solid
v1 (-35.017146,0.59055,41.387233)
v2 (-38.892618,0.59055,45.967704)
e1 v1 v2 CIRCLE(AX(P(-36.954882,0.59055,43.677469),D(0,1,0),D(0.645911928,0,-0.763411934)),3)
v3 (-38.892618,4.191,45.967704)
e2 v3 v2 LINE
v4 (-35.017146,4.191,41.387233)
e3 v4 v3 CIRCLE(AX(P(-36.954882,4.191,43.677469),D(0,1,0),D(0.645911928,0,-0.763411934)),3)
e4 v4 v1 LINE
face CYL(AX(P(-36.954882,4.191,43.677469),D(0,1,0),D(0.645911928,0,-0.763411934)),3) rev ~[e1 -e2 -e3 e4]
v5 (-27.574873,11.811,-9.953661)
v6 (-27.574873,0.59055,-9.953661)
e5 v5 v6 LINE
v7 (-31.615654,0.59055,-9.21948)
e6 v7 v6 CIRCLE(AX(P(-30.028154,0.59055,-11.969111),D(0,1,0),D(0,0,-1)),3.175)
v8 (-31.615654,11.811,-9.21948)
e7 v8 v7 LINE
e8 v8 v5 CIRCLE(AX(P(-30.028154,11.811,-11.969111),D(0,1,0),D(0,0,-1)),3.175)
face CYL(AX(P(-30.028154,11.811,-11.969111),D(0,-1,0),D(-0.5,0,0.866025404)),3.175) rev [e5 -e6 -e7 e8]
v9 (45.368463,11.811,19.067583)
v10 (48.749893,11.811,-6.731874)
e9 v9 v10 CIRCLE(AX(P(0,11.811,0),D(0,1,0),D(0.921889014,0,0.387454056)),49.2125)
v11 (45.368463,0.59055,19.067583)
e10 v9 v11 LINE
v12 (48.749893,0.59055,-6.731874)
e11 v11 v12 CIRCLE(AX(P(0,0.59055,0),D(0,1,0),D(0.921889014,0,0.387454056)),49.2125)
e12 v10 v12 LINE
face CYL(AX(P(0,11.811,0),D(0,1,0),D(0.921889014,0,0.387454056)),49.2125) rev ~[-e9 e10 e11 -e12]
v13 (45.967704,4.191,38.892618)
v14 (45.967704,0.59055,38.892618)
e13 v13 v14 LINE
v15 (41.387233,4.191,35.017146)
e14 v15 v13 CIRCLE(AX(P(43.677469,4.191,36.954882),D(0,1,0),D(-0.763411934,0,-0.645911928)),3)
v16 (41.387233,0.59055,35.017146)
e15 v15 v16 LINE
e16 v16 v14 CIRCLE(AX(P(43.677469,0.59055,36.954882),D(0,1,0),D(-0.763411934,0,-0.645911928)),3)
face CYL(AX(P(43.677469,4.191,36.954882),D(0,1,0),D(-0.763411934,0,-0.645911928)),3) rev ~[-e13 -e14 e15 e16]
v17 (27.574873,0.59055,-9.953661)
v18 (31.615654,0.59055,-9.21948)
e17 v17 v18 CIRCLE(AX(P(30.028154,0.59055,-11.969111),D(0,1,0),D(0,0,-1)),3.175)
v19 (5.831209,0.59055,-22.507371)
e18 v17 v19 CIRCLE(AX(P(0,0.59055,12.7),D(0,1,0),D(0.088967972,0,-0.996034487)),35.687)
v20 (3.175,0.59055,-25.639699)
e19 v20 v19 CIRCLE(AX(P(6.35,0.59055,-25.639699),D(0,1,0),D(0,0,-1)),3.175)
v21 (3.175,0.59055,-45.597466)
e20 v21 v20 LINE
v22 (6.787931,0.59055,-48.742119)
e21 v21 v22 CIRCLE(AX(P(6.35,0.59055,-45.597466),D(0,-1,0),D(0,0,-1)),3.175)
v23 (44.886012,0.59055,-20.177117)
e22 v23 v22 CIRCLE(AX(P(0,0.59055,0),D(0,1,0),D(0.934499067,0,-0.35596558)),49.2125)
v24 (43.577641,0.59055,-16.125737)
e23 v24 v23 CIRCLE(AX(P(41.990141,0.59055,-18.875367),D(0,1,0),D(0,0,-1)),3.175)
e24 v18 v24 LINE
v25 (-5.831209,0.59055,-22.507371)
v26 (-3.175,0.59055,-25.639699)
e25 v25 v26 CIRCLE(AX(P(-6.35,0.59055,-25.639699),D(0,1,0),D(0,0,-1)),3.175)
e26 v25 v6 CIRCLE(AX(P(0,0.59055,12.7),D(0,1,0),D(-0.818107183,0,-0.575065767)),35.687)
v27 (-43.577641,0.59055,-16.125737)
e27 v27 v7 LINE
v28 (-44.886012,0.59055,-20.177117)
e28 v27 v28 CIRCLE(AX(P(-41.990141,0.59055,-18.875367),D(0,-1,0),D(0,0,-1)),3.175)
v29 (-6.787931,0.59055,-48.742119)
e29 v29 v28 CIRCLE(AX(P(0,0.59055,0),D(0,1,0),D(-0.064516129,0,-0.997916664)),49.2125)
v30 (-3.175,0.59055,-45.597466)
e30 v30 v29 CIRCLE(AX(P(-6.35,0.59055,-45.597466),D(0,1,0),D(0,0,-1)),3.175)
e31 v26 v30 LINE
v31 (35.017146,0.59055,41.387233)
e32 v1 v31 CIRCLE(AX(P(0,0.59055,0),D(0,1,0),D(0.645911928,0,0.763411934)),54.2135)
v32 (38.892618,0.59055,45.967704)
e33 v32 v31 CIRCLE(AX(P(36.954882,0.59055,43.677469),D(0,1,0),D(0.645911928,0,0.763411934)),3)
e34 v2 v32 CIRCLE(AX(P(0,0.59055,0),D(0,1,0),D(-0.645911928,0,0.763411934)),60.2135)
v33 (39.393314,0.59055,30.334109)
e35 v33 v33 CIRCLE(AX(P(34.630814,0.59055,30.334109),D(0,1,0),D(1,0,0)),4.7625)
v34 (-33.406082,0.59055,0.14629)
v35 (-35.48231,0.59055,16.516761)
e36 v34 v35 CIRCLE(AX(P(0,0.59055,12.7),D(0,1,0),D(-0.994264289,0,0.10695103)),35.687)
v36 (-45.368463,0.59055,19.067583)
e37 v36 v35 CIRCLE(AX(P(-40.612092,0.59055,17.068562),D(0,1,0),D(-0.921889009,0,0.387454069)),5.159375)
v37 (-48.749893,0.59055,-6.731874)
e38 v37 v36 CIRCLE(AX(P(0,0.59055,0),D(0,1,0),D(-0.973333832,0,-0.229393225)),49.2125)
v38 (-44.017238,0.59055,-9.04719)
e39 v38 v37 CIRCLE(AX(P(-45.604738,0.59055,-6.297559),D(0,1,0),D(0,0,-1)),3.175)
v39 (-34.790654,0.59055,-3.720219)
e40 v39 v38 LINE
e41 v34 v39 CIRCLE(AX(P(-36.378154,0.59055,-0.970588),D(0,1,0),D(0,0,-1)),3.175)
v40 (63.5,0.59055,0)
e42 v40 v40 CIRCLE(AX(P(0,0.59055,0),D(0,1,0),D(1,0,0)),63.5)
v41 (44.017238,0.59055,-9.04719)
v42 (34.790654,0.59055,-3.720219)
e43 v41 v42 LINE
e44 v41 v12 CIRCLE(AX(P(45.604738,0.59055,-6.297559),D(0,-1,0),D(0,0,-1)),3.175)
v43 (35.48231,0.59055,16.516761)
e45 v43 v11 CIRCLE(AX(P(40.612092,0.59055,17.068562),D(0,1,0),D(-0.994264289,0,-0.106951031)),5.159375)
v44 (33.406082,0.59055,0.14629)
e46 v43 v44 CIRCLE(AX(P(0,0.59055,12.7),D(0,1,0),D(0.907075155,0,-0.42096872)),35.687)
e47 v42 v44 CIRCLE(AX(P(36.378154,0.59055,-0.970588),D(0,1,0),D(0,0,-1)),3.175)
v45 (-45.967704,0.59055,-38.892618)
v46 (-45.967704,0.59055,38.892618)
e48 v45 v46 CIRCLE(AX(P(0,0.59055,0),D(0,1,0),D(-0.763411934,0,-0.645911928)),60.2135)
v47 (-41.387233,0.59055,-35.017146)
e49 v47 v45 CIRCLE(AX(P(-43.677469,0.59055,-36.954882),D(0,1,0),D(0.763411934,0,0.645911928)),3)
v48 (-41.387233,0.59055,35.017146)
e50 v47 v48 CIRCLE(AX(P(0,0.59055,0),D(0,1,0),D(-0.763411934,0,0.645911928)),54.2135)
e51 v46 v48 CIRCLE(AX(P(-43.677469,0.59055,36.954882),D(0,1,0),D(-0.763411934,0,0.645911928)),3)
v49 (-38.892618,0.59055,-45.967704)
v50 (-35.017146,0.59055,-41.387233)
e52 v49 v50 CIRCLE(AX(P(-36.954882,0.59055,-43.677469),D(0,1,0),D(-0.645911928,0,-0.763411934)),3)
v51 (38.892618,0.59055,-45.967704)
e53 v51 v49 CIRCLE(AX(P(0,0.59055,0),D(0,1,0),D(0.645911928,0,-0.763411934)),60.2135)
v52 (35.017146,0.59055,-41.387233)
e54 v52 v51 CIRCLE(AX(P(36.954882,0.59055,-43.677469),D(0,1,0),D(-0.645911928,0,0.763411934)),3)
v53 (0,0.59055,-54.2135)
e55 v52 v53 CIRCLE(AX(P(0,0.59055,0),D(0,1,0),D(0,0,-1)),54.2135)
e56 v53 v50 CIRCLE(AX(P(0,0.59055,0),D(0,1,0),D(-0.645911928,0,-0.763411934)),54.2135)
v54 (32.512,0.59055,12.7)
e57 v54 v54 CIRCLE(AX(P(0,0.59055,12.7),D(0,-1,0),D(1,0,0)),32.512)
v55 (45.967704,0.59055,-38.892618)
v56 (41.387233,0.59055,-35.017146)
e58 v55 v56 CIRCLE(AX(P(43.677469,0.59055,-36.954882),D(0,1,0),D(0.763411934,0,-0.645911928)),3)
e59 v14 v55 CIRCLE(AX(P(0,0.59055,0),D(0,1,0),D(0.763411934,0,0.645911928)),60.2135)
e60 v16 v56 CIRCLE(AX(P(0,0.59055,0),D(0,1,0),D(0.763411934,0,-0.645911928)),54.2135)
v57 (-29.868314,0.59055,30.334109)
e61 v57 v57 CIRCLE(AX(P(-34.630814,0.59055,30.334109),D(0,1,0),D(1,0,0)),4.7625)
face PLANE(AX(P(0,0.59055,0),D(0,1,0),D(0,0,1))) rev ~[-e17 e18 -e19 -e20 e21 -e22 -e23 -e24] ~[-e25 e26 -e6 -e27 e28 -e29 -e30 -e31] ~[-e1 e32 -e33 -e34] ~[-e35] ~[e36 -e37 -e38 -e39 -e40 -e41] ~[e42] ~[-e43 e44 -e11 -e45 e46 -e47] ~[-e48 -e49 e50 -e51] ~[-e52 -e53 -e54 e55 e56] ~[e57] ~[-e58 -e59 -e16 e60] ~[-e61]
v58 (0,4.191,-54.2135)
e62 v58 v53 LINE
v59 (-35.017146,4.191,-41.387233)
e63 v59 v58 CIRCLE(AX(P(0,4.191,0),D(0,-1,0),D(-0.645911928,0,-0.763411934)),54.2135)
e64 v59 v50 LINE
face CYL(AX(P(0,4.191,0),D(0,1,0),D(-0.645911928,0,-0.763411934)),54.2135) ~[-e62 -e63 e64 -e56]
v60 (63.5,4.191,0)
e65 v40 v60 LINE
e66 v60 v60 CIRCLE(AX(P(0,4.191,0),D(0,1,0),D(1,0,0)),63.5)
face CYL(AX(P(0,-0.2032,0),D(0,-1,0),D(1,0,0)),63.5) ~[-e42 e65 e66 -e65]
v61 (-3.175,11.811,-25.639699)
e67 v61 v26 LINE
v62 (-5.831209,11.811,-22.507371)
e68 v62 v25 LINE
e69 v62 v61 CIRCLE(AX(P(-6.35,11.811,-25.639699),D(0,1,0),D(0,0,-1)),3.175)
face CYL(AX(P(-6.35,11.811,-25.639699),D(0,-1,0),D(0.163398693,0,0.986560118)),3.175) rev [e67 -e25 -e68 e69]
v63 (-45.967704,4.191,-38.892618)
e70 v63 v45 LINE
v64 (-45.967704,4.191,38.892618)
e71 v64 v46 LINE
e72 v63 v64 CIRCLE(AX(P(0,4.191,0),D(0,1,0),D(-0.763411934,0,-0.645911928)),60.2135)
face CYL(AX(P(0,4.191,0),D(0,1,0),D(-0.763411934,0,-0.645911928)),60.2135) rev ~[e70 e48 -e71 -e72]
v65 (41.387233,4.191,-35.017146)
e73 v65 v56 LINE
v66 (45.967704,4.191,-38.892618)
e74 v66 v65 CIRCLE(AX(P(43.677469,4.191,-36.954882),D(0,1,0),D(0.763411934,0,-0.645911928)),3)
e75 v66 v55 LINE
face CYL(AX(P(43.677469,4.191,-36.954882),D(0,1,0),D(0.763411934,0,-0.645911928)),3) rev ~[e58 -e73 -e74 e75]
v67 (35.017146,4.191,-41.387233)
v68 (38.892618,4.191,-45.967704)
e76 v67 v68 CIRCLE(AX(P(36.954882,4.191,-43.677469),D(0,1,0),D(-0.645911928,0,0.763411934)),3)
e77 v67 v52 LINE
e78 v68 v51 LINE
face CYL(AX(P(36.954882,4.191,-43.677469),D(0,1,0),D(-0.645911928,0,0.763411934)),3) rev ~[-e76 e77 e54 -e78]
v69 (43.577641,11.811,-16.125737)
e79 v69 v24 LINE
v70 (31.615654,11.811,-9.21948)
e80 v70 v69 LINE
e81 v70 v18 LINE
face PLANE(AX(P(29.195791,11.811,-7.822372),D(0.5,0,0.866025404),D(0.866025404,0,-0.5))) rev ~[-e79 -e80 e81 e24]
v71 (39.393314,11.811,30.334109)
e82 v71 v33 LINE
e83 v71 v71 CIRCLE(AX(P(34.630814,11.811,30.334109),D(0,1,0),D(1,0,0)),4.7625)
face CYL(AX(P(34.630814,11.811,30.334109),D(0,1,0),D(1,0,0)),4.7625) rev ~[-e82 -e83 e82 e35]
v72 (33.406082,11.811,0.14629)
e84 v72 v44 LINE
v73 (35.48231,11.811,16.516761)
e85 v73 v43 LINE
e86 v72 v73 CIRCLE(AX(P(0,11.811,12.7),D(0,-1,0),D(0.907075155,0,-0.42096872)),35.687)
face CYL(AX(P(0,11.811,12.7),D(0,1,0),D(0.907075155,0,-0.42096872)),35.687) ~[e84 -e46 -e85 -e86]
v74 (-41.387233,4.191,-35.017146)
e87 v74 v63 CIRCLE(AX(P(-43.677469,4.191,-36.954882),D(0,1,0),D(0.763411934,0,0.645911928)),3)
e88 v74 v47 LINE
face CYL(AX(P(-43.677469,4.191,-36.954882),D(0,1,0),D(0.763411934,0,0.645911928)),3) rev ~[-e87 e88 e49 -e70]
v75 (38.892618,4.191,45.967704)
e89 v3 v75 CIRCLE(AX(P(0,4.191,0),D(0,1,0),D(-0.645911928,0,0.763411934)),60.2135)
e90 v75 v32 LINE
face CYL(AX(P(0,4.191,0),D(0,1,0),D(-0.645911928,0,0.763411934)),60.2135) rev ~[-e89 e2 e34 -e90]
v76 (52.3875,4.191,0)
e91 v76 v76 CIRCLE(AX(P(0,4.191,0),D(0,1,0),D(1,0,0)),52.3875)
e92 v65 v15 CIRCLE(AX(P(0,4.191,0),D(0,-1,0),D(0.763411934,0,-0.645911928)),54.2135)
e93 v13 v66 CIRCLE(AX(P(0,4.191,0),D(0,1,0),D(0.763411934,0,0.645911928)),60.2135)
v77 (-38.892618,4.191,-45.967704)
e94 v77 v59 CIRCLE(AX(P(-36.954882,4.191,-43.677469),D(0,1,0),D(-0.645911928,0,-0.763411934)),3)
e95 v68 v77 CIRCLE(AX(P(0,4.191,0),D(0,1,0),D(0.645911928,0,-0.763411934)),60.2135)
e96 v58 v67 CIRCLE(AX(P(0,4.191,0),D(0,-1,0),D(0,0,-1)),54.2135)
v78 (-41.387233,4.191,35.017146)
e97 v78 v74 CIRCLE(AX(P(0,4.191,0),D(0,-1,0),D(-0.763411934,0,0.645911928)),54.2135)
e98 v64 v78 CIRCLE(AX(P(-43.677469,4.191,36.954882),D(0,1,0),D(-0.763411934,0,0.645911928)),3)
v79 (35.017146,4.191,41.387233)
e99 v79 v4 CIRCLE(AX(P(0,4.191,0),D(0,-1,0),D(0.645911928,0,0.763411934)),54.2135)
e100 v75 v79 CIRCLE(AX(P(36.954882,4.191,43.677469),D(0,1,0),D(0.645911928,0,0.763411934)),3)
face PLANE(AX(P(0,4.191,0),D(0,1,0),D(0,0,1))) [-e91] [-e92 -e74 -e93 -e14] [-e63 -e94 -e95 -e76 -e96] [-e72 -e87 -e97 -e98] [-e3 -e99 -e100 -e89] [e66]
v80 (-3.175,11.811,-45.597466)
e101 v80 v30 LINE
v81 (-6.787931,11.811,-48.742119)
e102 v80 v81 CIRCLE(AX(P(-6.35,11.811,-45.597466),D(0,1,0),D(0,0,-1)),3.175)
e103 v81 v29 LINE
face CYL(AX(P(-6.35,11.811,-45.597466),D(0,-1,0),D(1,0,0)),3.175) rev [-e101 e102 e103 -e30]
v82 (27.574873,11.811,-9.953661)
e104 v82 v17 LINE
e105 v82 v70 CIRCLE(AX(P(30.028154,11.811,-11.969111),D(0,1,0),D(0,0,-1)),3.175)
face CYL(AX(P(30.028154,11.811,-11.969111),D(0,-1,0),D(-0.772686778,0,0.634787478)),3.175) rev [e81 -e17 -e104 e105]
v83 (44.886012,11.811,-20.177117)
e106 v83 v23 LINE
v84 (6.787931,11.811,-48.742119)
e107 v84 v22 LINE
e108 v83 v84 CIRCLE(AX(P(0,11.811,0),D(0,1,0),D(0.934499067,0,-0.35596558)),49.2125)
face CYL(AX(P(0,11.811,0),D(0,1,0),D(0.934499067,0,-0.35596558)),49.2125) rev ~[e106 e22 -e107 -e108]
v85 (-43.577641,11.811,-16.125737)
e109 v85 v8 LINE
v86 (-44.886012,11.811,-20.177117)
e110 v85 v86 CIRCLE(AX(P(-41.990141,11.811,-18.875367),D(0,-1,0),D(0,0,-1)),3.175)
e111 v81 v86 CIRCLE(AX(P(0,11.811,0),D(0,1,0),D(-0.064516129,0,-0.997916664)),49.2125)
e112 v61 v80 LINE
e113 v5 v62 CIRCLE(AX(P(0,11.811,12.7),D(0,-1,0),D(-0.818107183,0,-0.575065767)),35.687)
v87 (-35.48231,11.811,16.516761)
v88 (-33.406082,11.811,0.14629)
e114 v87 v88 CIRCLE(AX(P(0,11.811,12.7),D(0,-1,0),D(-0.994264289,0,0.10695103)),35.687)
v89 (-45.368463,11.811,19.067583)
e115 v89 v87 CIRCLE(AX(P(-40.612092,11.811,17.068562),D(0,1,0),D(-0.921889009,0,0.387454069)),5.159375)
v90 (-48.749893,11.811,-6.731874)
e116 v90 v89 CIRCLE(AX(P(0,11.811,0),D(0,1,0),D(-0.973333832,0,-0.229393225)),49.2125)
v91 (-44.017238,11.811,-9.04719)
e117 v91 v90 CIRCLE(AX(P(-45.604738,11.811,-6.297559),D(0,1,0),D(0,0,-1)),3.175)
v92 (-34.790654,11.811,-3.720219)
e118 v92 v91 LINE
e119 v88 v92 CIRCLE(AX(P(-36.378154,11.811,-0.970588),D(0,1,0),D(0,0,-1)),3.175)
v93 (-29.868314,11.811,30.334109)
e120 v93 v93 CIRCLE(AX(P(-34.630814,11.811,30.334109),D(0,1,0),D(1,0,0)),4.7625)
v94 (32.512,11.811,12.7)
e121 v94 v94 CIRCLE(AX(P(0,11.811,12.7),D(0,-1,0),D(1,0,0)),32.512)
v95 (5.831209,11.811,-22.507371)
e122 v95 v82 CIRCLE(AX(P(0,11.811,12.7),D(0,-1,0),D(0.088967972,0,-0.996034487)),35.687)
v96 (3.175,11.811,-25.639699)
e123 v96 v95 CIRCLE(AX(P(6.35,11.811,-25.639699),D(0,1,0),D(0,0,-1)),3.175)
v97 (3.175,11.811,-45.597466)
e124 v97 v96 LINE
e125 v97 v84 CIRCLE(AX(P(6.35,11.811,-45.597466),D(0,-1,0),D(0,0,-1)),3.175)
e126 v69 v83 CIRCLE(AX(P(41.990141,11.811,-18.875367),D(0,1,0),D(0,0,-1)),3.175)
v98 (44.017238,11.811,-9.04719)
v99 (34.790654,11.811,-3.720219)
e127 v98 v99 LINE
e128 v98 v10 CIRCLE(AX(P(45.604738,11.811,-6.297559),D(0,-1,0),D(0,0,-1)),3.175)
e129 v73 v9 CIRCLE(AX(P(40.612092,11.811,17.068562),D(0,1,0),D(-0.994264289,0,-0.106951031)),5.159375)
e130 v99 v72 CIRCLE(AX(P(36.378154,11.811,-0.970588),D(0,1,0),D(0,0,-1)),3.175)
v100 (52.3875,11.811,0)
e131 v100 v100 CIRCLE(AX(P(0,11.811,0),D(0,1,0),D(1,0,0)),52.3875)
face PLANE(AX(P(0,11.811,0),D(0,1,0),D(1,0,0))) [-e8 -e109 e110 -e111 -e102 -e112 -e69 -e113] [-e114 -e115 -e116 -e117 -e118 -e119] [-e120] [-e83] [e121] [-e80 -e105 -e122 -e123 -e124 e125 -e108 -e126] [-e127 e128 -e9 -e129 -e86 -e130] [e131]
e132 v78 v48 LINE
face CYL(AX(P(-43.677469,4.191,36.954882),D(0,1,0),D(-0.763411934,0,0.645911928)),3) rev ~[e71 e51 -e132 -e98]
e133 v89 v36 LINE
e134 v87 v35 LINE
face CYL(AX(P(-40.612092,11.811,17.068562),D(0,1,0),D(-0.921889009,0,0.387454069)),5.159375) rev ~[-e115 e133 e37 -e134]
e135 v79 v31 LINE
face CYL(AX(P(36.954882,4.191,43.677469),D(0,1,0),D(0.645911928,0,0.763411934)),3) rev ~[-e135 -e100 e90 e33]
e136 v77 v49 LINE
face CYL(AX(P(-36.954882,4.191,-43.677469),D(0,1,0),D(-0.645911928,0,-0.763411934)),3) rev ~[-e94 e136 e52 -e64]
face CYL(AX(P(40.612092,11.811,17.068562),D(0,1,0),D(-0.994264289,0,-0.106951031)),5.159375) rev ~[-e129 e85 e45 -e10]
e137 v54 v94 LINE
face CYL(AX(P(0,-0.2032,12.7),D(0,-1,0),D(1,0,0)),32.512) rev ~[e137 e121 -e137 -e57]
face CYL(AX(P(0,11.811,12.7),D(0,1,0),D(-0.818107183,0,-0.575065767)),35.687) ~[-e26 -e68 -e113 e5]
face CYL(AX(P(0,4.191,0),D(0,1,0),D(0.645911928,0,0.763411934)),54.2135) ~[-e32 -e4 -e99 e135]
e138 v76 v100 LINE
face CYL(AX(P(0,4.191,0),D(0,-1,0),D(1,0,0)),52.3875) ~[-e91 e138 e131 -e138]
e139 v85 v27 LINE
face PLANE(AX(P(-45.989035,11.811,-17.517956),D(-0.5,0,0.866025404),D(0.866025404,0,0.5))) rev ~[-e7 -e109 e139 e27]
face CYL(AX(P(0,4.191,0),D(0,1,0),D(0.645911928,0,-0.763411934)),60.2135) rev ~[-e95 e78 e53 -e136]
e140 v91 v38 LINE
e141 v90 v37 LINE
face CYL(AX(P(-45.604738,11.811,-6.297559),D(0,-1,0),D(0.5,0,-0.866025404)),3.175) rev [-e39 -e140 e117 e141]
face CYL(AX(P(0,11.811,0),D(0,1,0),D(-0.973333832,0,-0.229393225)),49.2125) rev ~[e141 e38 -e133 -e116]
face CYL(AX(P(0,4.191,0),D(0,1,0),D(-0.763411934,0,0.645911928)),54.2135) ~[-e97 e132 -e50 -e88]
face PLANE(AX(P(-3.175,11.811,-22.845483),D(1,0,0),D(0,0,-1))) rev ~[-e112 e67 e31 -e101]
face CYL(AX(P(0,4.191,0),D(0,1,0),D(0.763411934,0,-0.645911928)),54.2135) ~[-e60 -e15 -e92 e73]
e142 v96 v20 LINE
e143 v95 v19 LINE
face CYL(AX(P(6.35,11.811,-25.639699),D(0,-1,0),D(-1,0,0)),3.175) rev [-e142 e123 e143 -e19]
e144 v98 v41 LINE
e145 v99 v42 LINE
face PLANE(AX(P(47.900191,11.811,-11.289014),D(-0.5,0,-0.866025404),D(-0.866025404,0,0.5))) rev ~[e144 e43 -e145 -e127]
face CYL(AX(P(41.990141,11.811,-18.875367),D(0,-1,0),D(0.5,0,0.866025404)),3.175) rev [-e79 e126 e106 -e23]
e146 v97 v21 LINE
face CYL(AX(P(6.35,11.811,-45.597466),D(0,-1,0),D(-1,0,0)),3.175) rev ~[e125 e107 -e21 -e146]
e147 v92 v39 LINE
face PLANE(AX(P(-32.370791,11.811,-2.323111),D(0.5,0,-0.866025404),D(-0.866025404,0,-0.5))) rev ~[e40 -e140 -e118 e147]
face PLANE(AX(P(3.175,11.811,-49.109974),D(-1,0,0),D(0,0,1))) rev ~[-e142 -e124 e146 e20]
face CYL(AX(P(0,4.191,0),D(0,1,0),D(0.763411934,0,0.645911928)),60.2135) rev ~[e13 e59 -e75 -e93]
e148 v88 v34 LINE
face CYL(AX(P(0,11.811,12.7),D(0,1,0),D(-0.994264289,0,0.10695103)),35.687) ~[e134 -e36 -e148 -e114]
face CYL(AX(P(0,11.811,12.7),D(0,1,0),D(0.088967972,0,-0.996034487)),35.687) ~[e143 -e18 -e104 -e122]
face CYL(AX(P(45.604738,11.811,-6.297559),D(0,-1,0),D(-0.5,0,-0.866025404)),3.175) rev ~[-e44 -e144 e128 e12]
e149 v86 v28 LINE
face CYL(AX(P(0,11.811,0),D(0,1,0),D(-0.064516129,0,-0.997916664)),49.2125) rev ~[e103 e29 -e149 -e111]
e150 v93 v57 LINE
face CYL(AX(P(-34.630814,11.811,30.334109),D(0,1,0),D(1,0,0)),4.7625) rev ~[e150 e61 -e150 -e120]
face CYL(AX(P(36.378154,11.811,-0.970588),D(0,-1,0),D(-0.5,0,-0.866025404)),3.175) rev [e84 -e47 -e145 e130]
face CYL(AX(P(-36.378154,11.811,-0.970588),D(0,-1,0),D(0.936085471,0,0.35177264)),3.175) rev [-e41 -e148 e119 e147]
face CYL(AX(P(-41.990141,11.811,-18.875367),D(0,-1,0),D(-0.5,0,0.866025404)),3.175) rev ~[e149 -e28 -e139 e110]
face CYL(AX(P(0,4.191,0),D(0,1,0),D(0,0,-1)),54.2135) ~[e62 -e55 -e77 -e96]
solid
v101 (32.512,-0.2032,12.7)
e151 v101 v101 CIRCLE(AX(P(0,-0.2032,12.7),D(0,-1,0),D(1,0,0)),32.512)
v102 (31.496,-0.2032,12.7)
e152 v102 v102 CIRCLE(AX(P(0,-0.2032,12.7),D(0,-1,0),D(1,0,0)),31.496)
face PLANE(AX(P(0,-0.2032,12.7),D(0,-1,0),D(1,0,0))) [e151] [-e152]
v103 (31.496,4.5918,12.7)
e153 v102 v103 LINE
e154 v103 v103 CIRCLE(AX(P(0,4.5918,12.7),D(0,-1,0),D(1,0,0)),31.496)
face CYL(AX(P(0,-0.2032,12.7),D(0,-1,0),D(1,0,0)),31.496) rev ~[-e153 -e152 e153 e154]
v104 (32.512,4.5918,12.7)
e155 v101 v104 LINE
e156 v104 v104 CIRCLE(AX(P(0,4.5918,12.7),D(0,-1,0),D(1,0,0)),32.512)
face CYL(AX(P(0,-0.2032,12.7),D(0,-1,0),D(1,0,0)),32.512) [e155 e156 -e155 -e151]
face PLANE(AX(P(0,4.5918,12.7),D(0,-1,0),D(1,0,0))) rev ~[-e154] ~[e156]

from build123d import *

# Parameters (mm, degrees)
SLOTTED_BODY_EXTRUDE_DEPTH      = 4.191
SLOTTED_BODY_EXTRUDE_DEPTH_BACK = 0.2032
SKETCH1_R                       = 61.9125
SKETCH1_R_2                     = 30.988
SKETCH5_R                       = 52.3875
BOSS_EXTRUDE3_DEPTH             = 7.62
SKETCH6_R                       = 32.512
CUT_EXTRUDE5_DEPTH              = 89.377917571
SKETCH8_R                       = 32.512
SKETCH8_R_2                     = 31.496
BOSS_EXTRUDE4_DEPTH             = 4.795000062
CUT_EXTRUDE7_DEPTH              = 36.068
FILLET1_R                       = 3.175
CUT_EXTRUDE8_DEPTH              = 36.068
MOVE_FACE1_BY                   = 1.5875
MOVE_FACE2_BY                   = 0.79375
SKETCH13_5_R                    = 3.175
CUT_EXTRUDE9_DEPTH              = 91.602654496
MOVE_FACE3_BY                   = 1.5875
MOVE_FACE3_2_BY                 = 1.5875


with BuildPart() as part:
    # Sketch1 → Slotted-Body Extrude (new, two sides: drawn at the far end of the back side and taken through both)
    with BuildSketch(Plane(origin=(0, 0, 0), x_dir=(1, 0, 0), z_dir=(0, 1, 0)).offset(-SLOTTED_BODY_EXTRUDE_DEPTH_BACK)):
        Circle(SKETCH1_R)
        with Locations((0, -12.7)):
            Circle(SKETCH1_R_2, mode=Mode.SUBTRACT)
    extrude(amount=SLOTTED_BODY_EXTRUDE_DEPTH + SLOTTED_BODY_EXTRUDE_DEPTH_BACK)

    # Sketch5 → Boss-Extrude3 (add)
    with BuildSketch(Plane(origin=(0, 4.191, 0), x_dir=(1, 0, 0), z_dir=(0, 1, 0))):
        Circle(SKETCH5_R)
    extrude(amount=BOSS_EXTRUDE3_DEPTH)

    # Sketch6 → Cut-Extrude5 (cut, through all)
    with BuildSketch(Plane.XZ.offset(0.2032)):
        with Locations((0, 12.7)):
            Circle(SKETCH6_R)
    extrude(amount=-CUT_EXTRUDE5_DEPTH, mode=Mode.SUBTRACT)

    # Sketch13 → Cut-Extrude7 (cut)
    with BuildSketch(Plane(origin=(0, 11.811, 0), x_dir=(1, 0, 0), z_dir=(0, 1, 0))):
        with BuildLine():
            Line((-45.989035316, 17.517956129), (-29.195791052, 7.822372033))
            ThreePointArc((-29.195791052, 7.822372033), (-17.8435, 18.205848585), (-3.175, 22.845482751))
            Line((-3.175, 22.845482751), (-3.175, 49.109973847))
            ThreePointArc((-3.175, 49.109973847), (-29.219676385, 39.598998324), (-45.989035316, 17.517956129))
        make_face()
        with BuildLine():
            ThreePointArc((-35.482309697, -16.516761399), (-35.210027203, -6.884851392), (-32.370791052, 2.323110718))
            Line((-32.370791052, 2.323110718), (-47.900191204, 11.289014077))
            ThreePointArc((-47.900191204, 11.289014077), (-49.04223906, -4.09010321), (-45.36846312, -19.06758271))
            ThreePointArc((-45.36846312, -19.06758271), (-39.32308801, -22.064321984), (-35.482309697, -16.516761399))
        make_face()
        with BuildLine():
            Line((3.175, 49.109973847), (3.175, 22.845482751))
            ThreePointArc((3.175, 22.845482751), (17.8435, 18.205848585), (29.195791052, 7.822372033))
            Line((29.195791052, 7.822372033), (45.989035316, 17.517956129))
            ThreePointArc((45.989035316, 17.517956129), (29.219676385, 39.598998324), (3.175, 49.109973847))
        make_face()
        with BuildLine():
            Line((47.900191204, 11.289014077), (32.370791052, 2.323110718))
            ThreePointArc((32.370791052, 2.323110718), (35.210027203, -6.884851392), (35.482309697, -16.516761399))
            ThreePointArc((35.482309697, -16.516761399), (39.32308801, -22.064321984), (45.36846312, -19.06758271))
            ThreePointArc((45.36846312, -19.06758271), (49.04223906, -4.09010321), (47.900191204, 11.289014077))
        make_face()
    extrude(amount=-CUT_EXTRUDE7_DEPTH, mode=Mode.SUBTRACT)

    # Fillet1
    fillet1_edges = [part.edges().sort_by_distance(p)[0] for p in [
        (47.900191204, 5.8039, -11.289014077),
        (32.370791052, 5.8039, -2.323110718),
        (29.195791052, 5.8039, -7.822372033),
        (45.989035316, 5.8039, -17.517956129),
        (3.175, 5.8039, -49.109973847),
        (3.175, 5.8039, -22.845482751),
        (-3.175, 5.8039, -22.845482751),
        (-3.175, 5.8039, -49.109973847),
        (-45.989035316, 5.8039, -17.517956129),
        (-29.195791052, 5.8039, -7.822372033),
        (-32.370791052, 5.8039, -2.323110718),
        (-47.900191204, 5.8039, -11.289014077),
    ]]
    fillet(fillet1_edges, radius=FILLET1_R)

    # Sketch12 → Cut-Extrude8 (cut)
    with BuildSketch(Plane(origin=(0, 4.191, 0), x_dir=(1, 0, 0), z_dir=(0, 1, 0))):
        with BuildLine():
            ThreePointArc((35.017146315, 41.387232889), (39.245117901, 41.739732907), (38.892617883, 45.967704494))
            ThreePointArc((38.892617883, 45.967704494), (0, 60.2135), (-38.892617883, 45.967704494))
            ThreePointArc((-38.892617883, 45.967704494), (-39.245117901, 41.739732907), (-35.017146315, 41.387232889))
            ThreePointArc((-35.017146315, 41.387232889), (-18.646136758, 50.906042532), (0, 54.2135))
            ThreePointArc((0, 54.2135), (18.646136758, 50.906042532), (35.017146315, 41.387232889))
        make_face()
        with BuildLine():
            ThreePointArc((-41.387232889, 35.017146315), (-41.739732907, 39.245117901), (-45.967704494, 38.892617883))
            ThreePointArc((-45.967704494, 38.892617883), (-60.2135, 0), (-45.967704494, -38.892617883))
            ThreePointArc((-45.967704494, -38.892617883), (-41.739732907, -39.245117901), (-41.387232889, -35.017146315))
            ThreePointArc((-41.387232889, -35.017146315), (-54.2135, 0), (-41.387232889, 35.017146315))
        make_face()
        with BuildLine():
            ThreePointArc((41.387232889, -35.017146315), (41.739732907, -39.245117901), (45.967704494, -38.892617883))
            ThreePointArc((45.967704494, -38.892617883), (60.2135, 0), (45.967704494, 38.892617883))
            ThreePointArc((45.967704494, 38.892617883), (41.739732907, 39.245117901), (41.387232889, 35.017146315))
            ThreePointArc((41.387232889, 35.017146315), (54.2135, 0), (41.387232889, -35.017146315))
        make_face()
        with BuildLine():
            ThreePointArc((-35.017146315, -41.387232889), (-39.245117901, -41.739732907), (-38.892617883, -45.967704494))
            ThreePointArc((-38.892617883, -45.967704494), (0, -60.2135), (38.892617883, -45.967704494))
            ThreePointArc((38.892617883, -45.967704494), (39.245117901, -41.739732907), (35.017146315, -41.387232889))
            ThreePointArc((35.017146315, -41.387232889), (0, -54.2135), (-35.017146315, -41.387232889))
        make_face()
    extrude(amount=-CUT_EXTRUDE8_DEPTH, mode=Mode.SUBTRACT)

    # Move Face1: a curved face moved outward by 1.5875
    add(Solid.thicken(part.faces().sort_by_distance((-61.9125, 1.9939, 0))[0], MOVE_FACE1_BY))

    # Move Face2: a face moved inward by 0.79375
    extrude(part.faces().sort_by_distance((0, -0.2032, -31.75))[0], amount=MOVE_FACE2_BY, dir=(0, 1, 0), mode=Mode.SUBTRACT)

    # Sketch13<5> → Cut-Extrude9 (cut, through all)
    with BuildSketch(Plane(origin=(0, 11.811, 0), x_dir=(1, 0, 0), z_dir=(0, 1, 0))):
        with Locations((-34.630813629, -30.33410875)):
            Circle(SKETCH13_5_R)
        with Locations((34.630813629, -30.33410875)):
            Circle(SKETCH13_5_R)
    extrude(amount=-CUT_EXTRUDE9_DEPTH, mode=Mode.SUBTRACT)

    # Move Face3: a curved face moved inward by 1.5875
    add(Solid.thicken(part.faces().sort_by_distance((31.455813629, 6.200775, 30.33410875))[0], -MOVE_FACE3_BY), mode=Mode.SUBTRACT)

    # Move Face3 2: a curved face moved inward by 1.5875
    add(Solid.thicken(part.faces().sort_by_distance((-37.805813629, 6.200775, 30.33410875))[0], -MOVE_FACE3_2_BY), mode=Mode.SUBTRACT)


with BuildPart() as body_2:
    # Sketch8 → Boss-Extrude4 (new body)
    with BuildSketch(Plane.XZ.offset(0.2032)):
        with Locations((0, 12.7)):
            Circle(SKETCH8_R)
        with Locations((0, 12.7)):
            Circle(SKETCH8_R_2, mode=Mode.SUBTRACT)
    extrude(amount=-BOSS_EXTRUDE4_DEPTH)


solid = Compound([part.part, body_2.part])
